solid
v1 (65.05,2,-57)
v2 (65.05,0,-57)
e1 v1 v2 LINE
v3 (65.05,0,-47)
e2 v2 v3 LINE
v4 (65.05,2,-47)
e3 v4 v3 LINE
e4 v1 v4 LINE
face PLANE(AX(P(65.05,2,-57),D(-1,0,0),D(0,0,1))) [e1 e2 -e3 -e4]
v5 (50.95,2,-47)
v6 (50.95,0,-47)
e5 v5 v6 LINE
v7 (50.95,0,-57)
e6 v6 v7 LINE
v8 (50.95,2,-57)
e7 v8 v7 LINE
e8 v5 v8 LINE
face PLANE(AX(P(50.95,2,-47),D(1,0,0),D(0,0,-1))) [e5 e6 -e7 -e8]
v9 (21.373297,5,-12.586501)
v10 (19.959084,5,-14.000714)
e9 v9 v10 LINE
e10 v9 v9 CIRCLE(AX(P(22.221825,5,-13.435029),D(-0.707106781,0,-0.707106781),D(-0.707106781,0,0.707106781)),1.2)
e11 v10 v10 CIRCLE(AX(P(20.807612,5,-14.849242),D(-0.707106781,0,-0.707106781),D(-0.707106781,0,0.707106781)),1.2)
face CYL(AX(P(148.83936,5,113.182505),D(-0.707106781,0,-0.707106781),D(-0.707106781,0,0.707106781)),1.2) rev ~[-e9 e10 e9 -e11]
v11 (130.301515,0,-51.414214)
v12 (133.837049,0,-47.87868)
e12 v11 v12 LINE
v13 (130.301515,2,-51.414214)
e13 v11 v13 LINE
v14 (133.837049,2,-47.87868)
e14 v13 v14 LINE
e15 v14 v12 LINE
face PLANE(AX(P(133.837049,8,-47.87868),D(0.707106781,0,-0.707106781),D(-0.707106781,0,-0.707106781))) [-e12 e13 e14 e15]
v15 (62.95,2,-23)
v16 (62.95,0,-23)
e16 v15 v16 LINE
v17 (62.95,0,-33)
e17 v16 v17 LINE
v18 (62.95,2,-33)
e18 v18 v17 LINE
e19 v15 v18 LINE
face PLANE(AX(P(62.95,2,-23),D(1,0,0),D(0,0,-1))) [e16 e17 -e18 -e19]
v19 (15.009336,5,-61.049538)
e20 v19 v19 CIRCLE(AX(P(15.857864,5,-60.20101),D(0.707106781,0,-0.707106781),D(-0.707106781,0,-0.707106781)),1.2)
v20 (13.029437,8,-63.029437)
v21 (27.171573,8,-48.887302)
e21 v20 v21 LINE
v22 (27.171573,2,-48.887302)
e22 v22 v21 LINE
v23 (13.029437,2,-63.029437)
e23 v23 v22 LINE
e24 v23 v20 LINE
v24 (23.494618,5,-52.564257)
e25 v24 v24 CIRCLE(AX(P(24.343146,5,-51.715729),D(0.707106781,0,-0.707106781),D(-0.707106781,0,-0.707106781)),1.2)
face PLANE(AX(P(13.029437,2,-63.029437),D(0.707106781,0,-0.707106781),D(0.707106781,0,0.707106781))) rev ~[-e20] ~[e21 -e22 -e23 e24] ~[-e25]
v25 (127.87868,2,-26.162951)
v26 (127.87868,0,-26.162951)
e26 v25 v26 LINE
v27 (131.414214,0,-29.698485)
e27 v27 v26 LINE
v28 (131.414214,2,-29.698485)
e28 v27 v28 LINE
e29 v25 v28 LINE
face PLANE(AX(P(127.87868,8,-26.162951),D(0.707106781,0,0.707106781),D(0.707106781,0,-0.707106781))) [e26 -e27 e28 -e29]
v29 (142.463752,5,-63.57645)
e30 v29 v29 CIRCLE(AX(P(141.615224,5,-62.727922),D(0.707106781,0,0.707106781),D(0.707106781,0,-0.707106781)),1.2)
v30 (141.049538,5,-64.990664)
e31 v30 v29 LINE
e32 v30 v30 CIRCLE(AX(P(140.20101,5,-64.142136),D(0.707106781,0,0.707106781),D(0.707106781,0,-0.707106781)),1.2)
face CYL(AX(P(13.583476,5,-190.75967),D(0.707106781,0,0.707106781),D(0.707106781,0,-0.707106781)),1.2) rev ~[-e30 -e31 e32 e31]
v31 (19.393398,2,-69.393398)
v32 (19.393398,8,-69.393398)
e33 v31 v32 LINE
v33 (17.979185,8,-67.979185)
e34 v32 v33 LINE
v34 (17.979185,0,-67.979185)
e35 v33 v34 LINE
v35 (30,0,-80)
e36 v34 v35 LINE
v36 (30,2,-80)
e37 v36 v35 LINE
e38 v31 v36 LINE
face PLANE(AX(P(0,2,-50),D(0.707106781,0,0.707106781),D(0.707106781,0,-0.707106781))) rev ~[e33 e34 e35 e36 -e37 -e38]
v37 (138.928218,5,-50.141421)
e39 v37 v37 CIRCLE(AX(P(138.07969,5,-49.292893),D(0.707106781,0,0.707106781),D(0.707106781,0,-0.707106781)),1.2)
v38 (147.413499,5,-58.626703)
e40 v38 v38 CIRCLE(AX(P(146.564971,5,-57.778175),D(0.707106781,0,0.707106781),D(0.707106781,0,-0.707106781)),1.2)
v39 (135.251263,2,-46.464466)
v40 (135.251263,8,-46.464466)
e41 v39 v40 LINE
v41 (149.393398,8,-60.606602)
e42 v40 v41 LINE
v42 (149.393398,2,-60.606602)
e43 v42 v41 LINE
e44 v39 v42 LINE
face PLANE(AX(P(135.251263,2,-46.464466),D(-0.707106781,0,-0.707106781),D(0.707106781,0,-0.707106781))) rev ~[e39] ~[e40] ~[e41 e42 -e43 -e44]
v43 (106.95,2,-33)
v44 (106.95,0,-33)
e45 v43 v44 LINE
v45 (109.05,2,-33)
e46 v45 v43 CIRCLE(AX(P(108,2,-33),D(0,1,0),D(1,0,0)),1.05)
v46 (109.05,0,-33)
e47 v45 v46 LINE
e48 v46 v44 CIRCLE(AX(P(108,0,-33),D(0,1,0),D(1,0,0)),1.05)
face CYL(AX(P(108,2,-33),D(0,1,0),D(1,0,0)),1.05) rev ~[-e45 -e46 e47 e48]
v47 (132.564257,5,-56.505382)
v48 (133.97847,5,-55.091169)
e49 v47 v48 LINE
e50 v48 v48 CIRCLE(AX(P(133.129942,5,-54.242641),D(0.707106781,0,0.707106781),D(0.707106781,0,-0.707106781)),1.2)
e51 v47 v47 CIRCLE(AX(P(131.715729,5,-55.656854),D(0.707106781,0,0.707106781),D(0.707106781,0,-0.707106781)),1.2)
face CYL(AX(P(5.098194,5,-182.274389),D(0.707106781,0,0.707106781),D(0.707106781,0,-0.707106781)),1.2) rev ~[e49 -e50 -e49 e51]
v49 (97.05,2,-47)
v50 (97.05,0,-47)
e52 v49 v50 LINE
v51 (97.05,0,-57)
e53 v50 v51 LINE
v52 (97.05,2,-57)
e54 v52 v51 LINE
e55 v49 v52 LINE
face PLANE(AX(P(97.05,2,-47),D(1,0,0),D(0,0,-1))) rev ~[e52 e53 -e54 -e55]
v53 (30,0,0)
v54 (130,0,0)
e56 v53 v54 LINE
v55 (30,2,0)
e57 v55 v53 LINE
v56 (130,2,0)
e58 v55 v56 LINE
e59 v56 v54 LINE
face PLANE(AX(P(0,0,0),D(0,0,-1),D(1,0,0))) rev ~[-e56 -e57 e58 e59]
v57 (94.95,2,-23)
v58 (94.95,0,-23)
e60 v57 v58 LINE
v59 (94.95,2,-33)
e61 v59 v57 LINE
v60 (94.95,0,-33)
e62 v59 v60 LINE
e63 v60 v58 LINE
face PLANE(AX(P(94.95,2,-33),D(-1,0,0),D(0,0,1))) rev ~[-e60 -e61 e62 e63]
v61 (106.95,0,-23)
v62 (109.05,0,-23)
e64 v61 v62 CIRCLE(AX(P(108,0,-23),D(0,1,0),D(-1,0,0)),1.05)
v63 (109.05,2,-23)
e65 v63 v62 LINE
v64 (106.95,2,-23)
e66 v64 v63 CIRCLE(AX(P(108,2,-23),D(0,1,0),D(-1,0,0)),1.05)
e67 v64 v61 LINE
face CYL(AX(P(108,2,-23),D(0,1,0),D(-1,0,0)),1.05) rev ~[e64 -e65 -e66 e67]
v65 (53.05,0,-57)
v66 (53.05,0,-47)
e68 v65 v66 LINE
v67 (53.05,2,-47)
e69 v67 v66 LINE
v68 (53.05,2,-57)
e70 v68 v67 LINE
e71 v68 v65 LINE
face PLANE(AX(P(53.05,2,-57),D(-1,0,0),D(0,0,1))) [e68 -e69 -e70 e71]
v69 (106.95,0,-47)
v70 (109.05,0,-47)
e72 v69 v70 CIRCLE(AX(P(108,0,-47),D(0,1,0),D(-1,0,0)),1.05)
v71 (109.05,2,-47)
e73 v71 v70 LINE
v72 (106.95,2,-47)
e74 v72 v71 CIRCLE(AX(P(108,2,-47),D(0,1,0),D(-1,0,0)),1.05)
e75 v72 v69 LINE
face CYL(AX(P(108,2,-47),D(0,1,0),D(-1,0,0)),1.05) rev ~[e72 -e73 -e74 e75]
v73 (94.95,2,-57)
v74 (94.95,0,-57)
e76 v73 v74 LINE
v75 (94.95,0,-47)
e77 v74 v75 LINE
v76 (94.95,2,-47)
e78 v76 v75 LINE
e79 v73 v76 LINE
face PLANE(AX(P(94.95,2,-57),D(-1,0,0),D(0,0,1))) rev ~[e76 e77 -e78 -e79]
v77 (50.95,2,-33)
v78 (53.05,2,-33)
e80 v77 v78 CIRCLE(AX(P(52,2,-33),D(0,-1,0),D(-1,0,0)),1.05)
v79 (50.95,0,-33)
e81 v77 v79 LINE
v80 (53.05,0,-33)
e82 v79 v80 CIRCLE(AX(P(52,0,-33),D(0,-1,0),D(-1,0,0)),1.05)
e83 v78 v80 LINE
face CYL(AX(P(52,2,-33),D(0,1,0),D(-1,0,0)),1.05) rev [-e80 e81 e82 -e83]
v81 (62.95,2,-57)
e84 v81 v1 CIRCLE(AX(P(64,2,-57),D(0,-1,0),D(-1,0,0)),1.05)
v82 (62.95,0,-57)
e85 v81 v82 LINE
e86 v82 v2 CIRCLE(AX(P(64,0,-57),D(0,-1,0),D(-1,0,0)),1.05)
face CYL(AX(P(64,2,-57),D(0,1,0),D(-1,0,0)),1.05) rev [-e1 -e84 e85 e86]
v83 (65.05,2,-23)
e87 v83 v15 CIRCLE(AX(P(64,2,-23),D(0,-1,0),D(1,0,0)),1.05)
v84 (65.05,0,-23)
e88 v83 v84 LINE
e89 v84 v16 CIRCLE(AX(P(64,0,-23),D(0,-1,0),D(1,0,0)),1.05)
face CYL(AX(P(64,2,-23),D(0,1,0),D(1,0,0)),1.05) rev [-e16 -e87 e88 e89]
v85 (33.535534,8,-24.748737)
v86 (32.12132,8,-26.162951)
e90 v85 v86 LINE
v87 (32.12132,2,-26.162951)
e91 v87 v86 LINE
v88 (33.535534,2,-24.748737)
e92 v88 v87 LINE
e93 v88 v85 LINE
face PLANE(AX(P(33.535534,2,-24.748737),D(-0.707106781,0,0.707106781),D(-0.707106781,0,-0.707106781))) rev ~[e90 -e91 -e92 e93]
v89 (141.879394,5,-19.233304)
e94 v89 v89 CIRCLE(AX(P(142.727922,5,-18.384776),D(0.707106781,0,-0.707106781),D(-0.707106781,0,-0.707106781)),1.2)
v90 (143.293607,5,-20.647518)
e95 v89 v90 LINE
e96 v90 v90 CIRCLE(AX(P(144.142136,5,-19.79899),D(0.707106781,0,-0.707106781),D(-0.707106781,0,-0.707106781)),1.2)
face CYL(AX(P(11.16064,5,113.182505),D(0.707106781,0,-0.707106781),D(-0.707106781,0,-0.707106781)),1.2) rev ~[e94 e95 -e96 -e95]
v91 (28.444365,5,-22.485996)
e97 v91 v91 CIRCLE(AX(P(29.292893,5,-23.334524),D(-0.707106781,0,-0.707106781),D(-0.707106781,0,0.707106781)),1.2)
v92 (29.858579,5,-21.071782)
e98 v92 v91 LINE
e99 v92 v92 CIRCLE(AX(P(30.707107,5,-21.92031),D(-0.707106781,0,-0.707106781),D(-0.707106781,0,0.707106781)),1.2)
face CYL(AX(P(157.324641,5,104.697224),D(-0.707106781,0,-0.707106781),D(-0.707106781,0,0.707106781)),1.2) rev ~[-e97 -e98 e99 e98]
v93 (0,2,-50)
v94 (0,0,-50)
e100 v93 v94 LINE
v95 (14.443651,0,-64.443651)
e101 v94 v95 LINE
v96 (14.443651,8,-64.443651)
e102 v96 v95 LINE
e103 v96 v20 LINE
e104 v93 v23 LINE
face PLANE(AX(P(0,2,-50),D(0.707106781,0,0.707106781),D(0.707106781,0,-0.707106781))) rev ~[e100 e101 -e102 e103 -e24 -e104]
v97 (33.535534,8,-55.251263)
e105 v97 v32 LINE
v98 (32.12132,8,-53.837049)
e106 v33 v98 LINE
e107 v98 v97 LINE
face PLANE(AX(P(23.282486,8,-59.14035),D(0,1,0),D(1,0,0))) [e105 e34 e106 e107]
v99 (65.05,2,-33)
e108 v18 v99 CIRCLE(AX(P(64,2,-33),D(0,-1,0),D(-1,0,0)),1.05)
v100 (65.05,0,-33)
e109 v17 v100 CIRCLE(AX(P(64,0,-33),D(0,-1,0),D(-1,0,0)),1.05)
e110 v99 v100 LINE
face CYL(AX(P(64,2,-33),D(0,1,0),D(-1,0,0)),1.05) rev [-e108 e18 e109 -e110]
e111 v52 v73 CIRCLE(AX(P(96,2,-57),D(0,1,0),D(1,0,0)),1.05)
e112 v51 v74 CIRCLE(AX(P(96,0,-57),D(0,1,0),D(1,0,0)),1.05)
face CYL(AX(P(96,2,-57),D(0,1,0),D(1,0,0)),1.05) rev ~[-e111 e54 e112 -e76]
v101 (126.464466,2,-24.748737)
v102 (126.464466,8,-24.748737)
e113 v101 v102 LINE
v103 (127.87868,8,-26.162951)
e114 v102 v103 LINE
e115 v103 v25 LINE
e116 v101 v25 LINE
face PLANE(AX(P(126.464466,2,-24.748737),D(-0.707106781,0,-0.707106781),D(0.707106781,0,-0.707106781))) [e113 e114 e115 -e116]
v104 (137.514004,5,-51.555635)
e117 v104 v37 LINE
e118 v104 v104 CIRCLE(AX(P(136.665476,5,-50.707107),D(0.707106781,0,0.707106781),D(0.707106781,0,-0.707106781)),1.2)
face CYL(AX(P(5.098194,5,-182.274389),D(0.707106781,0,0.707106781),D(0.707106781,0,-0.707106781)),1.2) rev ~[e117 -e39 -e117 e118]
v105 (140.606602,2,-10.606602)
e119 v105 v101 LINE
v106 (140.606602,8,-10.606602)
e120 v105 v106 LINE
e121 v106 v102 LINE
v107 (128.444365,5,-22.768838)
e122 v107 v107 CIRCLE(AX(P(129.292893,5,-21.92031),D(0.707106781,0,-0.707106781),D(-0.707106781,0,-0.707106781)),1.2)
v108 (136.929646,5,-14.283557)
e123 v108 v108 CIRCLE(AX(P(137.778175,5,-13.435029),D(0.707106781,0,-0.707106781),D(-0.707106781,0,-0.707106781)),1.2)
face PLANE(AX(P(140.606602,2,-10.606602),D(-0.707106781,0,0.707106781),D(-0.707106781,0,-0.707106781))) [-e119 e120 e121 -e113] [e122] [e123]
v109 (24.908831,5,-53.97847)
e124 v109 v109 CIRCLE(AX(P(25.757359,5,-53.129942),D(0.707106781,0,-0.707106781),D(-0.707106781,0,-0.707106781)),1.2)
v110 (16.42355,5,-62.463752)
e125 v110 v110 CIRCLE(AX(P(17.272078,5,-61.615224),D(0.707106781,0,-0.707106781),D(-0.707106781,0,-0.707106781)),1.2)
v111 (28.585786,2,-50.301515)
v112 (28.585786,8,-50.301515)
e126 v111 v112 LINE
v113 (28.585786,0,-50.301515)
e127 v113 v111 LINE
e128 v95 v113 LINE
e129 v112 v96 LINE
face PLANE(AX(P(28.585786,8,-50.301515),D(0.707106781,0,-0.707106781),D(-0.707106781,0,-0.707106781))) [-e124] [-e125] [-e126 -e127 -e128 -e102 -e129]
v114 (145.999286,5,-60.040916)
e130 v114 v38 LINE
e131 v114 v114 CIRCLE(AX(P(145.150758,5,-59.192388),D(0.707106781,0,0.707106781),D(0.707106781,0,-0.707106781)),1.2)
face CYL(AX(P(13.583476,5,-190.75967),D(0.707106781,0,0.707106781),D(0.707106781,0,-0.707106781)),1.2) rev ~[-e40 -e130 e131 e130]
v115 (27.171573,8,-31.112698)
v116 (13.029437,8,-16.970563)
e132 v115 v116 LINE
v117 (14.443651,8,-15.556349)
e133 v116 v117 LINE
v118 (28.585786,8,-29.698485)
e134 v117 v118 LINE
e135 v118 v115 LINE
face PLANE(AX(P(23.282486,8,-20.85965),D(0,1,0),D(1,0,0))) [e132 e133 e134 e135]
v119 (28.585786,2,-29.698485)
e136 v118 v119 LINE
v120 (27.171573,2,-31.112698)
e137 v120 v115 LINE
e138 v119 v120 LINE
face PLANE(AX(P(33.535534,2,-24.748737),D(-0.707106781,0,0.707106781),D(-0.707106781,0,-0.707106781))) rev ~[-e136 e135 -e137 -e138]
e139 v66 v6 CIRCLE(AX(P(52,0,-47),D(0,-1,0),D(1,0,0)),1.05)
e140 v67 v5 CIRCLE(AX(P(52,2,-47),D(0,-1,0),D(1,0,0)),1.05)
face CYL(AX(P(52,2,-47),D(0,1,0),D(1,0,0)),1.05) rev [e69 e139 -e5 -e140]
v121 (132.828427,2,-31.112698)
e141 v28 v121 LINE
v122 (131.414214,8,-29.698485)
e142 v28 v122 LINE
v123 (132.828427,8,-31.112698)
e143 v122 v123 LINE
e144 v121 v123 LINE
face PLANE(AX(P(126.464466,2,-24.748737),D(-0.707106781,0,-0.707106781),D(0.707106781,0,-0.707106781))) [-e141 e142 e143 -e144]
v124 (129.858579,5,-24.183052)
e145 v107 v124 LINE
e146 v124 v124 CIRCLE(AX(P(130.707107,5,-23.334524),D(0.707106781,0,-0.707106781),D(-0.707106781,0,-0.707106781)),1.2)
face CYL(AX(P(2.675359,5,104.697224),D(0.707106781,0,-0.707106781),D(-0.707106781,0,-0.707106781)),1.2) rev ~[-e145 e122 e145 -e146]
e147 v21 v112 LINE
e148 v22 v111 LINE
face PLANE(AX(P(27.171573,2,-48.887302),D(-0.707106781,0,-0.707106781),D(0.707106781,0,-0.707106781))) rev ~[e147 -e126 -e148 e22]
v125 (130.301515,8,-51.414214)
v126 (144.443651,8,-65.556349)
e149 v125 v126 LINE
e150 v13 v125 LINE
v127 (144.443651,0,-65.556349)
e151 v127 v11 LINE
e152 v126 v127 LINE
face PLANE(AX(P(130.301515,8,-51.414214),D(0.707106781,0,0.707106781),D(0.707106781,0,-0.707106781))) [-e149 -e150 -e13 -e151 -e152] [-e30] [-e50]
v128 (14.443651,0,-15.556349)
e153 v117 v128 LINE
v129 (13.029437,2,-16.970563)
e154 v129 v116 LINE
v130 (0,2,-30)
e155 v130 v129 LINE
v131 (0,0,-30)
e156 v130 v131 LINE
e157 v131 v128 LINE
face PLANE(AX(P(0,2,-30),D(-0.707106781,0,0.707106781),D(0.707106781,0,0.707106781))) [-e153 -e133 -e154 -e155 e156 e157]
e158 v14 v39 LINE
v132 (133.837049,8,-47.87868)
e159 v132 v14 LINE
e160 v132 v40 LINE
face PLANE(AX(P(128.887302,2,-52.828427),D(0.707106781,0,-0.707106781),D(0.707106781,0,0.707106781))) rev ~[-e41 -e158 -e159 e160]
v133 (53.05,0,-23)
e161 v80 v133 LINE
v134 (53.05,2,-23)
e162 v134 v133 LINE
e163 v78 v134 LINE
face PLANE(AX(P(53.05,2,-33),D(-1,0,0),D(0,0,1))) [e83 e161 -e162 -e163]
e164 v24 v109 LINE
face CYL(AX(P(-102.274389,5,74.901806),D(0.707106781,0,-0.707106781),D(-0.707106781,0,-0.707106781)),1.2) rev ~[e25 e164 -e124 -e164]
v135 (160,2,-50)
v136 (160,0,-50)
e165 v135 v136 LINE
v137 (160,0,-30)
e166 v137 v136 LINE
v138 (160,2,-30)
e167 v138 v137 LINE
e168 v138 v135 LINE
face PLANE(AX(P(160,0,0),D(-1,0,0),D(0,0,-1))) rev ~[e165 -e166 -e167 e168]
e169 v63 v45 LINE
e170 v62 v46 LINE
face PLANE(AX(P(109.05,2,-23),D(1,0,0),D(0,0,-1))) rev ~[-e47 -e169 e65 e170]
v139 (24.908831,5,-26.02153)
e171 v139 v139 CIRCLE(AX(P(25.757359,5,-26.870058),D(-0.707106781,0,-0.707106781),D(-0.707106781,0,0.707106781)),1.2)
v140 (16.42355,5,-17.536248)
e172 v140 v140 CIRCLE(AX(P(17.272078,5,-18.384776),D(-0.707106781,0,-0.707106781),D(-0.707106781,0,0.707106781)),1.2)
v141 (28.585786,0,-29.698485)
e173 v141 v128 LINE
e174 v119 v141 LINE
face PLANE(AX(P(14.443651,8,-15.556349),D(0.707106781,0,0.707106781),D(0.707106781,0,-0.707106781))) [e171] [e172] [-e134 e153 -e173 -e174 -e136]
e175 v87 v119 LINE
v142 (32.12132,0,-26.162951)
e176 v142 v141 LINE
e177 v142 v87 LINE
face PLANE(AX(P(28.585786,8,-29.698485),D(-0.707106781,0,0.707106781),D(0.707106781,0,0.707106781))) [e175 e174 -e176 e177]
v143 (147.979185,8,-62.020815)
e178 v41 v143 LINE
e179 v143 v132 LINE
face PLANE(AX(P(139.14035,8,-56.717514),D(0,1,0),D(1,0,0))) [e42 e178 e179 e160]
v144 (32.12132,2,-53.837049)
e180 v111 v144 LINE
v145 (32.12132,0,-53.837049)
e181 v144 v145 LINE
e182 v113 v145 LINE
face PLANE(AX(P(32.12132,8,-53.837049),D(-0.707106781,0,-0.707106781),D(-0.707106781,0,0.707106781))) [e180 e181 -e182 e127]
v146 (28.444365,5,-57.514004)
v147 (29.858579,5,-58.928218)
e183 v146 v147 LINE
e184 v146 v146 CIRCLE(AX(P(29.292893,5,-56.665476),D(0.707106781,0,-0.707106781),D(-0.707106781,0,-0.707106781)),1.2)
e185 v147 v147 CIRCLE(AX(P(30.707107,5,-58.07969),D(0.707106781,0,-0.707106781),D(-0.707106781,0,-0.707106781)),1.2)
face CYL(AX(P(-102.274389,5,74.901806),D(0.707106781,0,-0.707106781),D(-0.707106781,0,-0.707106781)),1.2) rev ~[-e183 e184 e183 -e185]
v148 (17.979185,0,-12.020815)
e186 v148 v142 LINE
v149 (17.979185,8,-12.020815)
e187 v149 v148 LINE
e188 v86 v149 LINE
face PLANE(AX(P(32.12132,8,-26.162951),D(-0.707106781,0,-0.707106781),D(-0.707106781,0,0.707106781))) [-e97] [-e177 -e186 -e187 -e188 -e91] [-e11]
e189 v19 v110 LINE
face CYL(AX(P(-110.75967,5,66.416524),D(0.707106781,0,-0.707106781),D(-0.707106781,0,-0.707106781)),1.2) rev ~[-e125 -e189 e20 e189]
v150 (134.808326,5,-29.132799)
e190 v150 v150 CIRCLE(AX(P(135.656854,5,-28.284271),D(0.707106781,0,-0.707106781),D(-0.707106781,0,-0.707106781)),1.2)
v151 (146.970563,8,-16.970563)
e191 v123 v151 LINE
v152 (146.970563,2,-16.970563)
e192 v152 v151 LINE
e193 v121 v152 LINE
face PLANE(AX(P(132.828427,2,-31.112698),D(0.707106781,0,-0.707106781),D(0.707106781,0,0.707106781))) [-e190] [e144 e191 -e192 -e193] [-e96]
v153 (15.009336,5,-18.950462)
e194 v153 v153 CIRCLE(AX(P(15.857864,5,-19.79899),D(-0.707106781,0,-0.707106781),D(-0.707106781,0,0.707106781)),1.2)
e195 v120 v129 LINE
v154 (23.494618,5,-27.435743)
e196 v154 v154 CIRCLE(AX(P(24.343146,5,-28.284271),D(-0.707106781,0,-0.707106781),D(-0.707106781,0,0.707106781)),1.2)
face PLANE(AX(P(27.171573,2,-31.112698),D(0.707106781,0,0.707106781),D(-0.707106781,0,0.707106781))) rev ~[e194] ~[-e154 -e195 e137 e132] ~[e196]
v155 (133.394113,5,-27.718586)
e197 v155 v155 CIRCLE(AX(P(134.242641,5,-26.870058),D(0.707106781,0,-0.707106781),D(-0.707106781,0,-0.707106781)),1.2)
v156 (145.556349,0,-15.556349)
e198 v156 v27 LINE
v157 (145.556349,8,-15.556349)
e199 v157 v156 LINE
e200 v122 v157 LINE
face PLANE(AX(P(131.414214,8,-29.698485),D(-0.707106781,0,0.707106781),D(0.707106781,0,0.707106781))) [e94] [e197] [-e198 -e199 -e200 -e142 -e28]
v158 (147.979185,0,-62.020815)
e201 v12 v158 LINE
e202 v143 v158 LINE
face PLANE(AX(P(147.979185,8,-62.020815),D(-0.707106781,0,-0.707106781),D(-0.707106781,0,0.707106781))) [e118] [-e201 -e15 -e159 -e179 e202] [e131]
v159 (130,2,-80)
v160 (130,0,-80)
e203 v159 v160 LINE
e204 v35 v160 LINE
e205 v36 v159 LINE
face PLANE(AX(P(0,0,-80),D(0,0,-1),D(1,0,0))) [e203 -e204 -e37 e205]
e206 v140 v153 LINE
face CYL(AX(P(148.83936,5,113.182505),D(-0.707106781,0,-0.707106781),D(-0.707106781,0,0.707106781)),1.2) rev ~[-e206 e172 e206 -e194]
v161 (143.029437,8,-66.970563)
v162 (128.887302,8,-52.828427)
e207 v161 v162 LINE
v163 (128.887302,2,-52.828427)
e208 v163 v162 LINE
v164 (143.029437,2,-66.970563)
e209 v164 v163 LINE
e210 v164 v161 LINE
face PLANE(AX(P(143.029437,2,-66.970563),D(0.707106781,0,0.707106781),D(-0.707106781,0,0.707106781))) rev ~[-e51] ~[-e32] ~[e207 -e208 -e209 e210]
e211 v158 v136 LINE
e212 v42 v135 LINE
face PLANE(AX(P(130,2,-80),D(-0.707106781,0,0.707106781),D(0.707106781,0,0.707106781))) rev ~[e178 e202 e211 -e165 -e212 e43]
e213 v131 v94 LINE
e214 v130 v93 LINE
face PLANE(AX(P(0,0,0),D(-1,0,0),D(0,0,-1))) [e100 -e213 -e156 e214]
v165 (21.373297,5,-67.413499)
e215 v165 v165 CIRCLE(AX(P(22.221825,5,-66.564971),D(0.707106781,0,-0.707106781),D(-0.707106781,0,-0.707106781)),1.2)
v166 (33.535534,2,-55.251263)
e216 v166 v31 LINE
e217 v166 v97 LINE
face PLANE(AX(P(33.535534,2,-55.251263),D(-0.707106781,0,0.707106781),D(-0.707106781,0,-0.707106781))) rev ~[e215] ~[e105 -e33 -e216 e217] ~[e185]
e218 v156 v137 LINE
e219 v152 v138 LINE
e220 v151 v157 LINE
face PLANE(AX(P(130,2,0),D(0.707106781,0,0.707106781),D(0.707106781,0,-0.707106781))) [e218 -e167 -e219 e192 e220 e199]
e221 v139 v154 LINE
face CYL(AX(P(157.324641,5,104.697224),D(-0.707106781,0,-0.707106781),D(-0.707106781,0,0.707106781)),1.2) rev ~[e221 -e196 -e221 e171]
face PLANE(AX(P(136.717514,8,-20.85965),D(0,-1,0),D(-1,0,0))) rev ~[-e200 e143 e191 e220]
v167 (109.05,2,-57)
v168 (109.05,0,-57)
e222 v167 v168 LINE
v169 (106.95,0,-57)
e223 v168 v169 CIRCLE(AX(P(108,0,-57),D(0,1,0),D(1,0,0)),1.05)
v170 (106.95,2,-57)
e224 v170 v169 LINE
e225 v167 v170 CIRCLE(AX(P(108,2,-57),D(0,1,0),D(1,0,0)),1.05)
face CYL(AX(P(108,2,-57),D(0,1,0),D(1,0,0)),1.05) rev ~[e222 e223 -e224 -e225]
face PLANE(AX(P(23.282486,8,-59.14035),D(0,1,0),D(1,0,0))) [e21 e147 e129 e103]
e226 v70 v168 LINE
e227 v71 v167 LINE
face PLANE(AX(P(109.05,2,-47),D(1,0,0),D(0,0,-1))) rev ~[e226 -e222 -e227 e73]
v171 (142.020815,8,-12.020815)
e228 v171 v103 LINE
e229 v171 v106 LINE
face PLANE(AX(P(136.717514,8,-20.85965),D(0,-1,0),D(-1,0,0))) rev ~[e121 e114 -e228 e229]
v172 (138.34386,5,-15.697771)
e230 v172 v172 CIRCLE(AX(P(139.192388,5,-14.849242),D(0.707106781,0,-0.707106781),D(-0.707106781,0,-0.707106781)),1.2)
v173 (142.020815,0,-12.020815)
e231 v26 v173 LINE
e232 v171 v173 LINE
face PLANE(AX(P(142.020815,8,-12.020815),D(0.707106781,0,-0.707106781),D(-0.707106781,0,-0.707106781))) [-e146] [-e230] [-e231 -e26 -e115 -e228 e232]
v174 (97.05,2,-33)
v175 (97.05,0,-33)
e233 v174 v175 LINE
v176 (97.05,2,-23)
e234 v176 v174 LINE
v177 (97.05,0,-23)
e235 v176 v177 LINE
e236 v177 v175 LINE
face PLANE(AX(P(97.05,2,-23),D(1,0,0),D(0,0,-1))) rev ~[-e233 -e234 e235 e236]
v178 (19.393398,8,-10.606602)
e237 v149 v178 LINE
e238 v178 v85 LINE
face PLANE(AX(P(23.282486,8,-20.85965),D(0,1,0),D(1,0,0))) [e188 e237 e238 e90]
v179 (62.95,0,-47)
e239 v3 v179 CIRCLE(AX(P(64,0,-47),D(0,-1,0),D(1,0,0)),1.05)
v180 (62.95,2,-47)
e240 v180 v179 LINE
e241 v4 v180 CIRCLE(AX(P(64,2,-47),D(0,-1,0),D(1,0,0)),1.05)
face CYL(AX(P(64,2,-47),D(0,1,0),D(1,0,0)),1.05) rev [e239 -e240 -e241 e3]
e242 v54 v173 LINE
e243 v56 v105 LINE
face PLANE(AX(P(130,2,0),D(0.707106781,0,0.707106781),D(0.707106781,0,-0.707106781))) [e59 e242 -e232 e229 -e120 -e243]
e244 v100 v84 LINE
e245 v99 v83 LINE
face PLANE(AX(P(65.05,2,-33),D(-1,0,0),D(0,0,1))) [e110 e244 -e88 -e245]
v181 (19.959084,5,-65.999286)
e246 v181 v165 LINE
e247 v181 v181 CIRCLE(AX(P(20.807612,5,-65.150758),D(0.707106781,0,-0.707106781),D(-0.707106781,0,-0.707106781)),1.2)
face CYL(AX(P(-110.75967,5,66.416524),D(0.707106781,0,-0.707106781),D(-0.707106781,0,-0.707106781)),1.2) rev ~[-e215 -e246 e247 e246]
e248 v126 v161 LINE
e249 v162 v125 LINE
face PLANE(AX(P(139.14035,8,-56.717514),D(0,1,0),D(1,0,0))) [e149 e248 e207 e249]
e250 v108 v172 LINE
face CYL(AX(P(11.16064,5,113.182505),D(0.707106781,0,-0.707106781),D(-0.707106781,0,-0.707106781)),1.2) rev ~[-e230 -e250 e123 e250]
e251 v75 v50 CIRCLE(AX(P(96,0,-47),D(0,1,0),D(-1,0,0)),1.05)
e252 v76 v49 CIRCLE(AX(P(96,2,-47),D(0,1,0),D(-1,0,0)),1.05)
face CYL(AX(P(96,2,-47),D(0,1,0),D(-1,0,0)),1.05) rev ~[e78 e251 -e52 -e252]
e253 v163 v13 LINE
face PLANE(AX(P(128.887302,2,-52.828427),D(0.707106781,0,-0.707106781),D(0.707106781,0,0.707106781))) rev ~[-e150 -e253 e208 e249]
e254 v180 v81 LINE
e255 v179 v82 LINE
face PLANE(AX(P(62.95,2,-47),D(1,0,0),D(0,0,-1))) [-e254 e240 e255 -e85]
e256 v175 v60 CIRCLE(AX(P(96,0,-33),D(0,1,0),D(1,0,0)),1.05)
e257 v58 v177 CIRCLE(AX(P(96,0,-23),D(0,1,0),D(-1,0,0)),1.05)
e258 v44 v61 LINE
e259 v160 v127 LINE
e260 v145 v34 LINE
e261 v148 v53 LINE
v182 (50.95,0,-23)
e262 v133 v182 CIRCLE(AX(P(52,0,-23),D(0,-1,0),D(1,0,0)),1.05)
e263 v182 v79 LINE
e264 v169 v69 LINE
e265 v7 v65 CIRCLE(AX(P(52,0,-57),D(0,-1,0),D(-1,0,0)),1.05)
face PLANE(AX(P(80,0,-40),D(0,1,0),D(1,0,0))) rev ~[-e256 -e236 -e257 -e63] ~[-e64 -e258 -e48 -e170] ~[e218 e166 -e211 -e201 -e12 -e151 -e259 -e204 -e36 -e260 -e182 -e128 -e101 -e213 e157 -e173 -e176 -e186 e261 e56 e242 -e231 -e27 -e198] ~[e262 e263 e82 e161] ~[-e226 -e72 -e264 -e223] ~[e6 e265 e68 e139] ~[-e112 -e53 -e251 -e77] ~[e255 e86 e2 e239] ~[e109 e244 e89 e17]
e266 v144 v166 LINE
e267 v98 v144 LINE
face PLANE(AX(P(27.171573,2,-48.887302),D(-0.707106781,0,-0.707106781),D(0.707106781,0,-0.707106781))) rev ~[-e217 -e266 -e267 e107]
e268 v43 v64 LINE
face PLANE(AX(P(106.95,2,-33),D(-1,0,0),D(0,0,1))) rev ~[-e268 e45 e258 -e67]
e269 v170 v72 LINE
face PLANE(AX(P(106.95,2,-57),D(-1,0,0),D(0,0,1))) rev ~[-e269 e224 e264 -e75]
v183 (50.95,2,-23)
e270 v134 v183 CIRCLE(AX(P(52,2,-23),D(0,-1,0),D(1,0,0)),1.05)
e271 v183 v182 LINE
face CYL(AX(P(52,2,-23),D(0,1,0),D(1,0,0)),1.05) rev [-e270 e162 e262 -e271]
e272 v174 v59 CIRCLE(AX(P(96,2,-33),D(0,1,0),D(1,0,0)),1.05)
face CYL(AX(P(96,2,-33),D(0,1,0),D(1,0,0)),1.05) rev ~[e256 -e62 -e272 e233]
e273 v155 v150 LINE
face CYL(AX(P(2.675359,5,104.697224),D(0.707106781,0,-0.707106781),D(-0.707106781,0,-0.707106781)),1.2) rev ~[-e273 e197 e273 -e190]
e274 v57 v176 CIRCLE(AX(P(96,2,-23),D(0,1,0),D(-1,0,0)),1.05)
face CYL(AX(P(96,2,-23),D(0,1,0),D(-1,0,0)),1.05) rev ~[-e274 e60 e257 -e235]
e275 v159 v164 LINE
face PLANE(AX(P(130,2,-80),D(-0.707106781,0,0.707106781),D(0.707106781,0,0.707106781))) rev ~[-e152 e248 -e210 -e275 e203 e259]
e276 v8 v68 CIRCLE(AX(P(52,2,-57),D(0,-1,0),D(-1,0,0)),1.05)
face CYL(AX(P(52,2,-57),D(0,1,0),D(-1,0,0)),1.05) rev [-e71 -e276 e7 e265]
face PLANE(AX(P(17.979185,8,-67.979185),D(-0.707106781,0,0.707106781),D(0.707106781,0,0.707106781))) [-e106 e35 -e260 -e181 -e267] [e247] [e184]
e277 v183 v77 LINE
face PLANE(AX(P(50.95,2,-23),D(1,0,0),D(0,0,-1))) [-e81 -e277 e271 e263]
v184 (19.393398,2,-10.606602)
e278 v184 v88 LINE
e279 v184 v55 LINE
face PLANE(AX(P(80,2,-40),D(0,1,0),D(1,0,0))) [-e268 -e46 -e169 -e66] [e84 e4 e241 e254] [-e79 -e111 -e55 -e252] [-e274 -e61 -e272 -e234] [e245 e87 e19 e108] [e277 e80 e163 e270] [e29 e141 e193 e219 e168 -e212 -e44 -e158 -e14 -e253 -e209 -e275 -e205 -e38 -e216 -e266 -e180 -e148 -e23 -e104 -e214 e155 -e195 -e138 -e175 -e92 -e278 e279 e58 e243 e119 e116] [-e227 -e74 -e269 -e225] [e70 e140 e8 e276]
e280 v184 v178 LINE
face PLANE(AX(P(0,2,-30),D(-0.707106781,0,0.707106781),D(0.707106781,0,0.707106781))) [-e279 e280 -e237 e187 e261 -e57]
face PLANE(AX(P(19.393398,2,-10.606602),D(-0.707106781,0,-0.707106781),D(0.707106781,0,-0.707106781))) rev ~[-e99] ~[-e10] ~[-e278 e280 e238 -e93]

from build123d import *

# Parameters (mm, degrees)
ESQUISSE1_W             = 160
ESQUISSE1_H             = 80
BOSS_EXTRU_1_DEPTH      = 2
ENL_V_MAT_EXTRU_2_DEPTH = 2
ENL_V_MAT_EXTRU_3_DEPTH = 2
BOSS_EXTRU_2_DEPTH      = 6
ENL_V_MAT_EXTRU_4_REACH = 10
D_GAGEMENT_M21_D        = 2.4
D_GAGEMENT_M22_D        = 2.4
D_GAGEMENT_M23_D        = 2.4
D_GAGEMENT_M24_D        = 2.4


with BuildPart() as part:
    # Esquisse1 → Boss.-Extru.1 (new body)
    with BuildSketch(Plane(origin=(0, 0, 0), x_dir=(1, 0, 0), z_dir=(0, 1, 0))):
        with Locations((80, 40)):
            Rectangle(ESQUISSE1_W, ESQUISSE1_H)
    extrude(amount=BOSS_EXTRU_1_DEPTH)

    # Esquisse2 → Enlèv. mat.-Extru.2 (cut)
    with BuildSketch(Plane(origin=(0, 2, 0), x_dir=(1, 0, 0), z_dir=(0, 1, 0))):
        Polygon((0, 50), (30, 80), (0, 80), align=None)
        Polygon((130, 80), (160, 50), (160, 80), align=None)
        Polygon((130, 0), (160, 30), (160, 0), align=None)
        Polygon((0, 30), (30, 0), (0, 0), align=None)
    extrude(amount=-ENL_V_MAT_EXTRU_2_DEPTH, mode=Mode.SUBTRACT)

    # Esquisse7 → Enlèv. mat.-Extru.3 (cut)
    with BuildSketch(Plane(origin=(0, 2, 0), x_dir=(1, 0, 0), z_dir=(0, 1, 0))):
        with BuildLine():
            Line((62.95, 23), (62.95, 33))
            ThreePointArc((62.95, 33), (64, 34.05), (65.05, 33))
            Line((65.05, 33), (65.05, 23))
            ThreePointArc((65.05, 23), (64, 21.95), (62.95, 23))
        make_face()
        with BuildLine():
            Line((50.95, 23), (50.95, 33))
            ThreePointArc((50.95, 33), (52, 34.05), (53.05, 33))
            Line((53.05, 33), (53.05, 23))
            ThreePointArc((53.05, 23), (52, 21.95), (50.95, 23))
        make_face()
        with BuildLine():
            Line((50.95, 47), (50.95, 57))
            ThreePointArc((50.95, 57), (52, 58.05), (53.05, 57))
            Line((53.05, 57), (53.05, 47))
            ThreePointArc((53.05, 47), (52, 45.95), (50.95, 47))
        make_face()
        with BuildLine():
            Line((62.95, 47), (62.95, 57))
            ThreePointArc((62.95, 57), (64, 58.05), (65.05, 57))
            Line((65.05, 57), (65.05, 47))
            ThreePointArc((65.05, 47), (64, 45.95), (62.95, 47))
        make_face()
        with BuildLine():
            Line((97.05, 47), (97.05, 57))
            ThreePointArc((97.05, 57), (96, 58.05), (94.95, 57))
            Line((94.95, 57), (94.95, 47))
            ThreePointArc((94.95, 47), (96, 45.95), (97.05, 47))
        make_face()
        with BuildLine():
            Line((109.05, 47), (109.05, 57))
            ThreePointArc((109.05, 57), (108, 58.05), (106.95, 57))
            Line((106.95, 57), (106.95, 47))
            ThreePointArc((106.95, 47), (108, 45.95), (109.05, 47))
        make_face()
        with BuildLine():
            Line((109.05, 23), (109.05, 33))
            ThreePointArc((109.05, 33), (108, 34.05), (106.95, 33))
            Line((106.95, 33), (106.95, 23))
            ThreePointArc((106.95, 23), (108, 21.95), (109.05, 23))
        make_face()
        with BuildLine():
            Line((97.05, 23), (97.05, 33))
            ThreePointArc((97.05, 33), (96, 34.05), (94.95, 33))
            Line((94.95, 33), (94.95, 23))
            ThreePointArc((94.95, 23), (96, 21.95), (97.05, 23))
        make_face()
    extrude(amount=-ENL_V_MAT_EXTRU_3_DEPTH, mode=Mode.SUBTRACT)

    # Esquisse8 → Boss.-Extru.2 (add)
    with BuildSketch(Plane(origin=(0, 2, 0), x_dir=(1, 0, 0), z_dir=(0, 1, 0))):
        Polygon((13.029437252, 16.970562748), (19.393398282, 10.606601718), (33.535533906, 24.748737342), (27.171572875, 31.112698372), align=None)
        Polygon((19.393398282, 69.393398282), (13.029437252, 63.029437252), (27.171572875, 48.887301628), (33.535533906, 55.251262658), align=None)
        Polygon((149.393398282, 60.606601718), (143.029437252, 66.970562748), (128.887301628, 52.828427125), (135.251262658, 46.464466094), align=None)
        Polygon((146.970562748, 16.970562748), (140.606601718, 10.606601718), (126.464466094, 24.748737342), (132.828427125, 31.112698372), align=None)
    extrude(amount=BOSS_EXTRU_2_DEPTH)

    # Esquisse10 → Enlèv. mat.-Extru.4 (cut, up to next)
    with BuildSketch(Plane(origin=(0, 8, 0), x_dir=(1, 0, 0), z_dir=(0, 1, 0)), mode=Mode.PRIVATE) as enl_v_mat_extru_4_sk1:
        Polygon((17.97918472, 12.02081528), (14.443650814, 15.556349186), (28.585786438, 29.69848481), (32.121320344, 26.162950904), align=None)
    enl_v_mat_extru_4_tool1 = extrude(enl_v_mat_extru_4_sk1.sketch, amount=-ENL_V_MAT_EXTRU_4_REACH, mode=Mode.PRIVATE) & part.part
    add(enl_v_mat_extru_4_tool1.solids().sort_by_distance((23.282486, 8, -20.85965))[0], mode=Mode.SUBTRACT)
    # Esquisse10 → Enlèv. mat.-Extru.4 (cut, up to next)
    with BuildSketch(Plane(origin=(0, 8, 0), x_dir=(1, 0, 0), z_dir=(0, 1, 0)), mode=Mode.PRIVATE) as enl_v_mat_extru_4_sk2:
        Polygon((14.443650814, 64.443650814), (17.97918472, 67.97918472), (32.121320344, 53.837049096), (28.585786438, 50.30151519), align=None)
    enl_v_mat_extru_4_tool2 = extrude(enl_v_mat_extru_4_sk2.sketch, amount=-ENL_V_MAT_EXTRU_4_REACH, mode=Mode.PRIVATE) & part.part
    add(enl_v_mat_extru_4_tool2.solids().sort_by_distance((23.282486, 8, -59.14035))[0], mode=Mode.SUBTRACT)
    # Esquisse10 → Enlèv. mat.-Extru.4 (cut, up to next)
    with BuildSketch(Plane(origin=(0, 8, 0), x_dir=(1, 0, 0), z_dir=(0, 1, 0)), mode=Mode.PRIVATE) as enl_v_mat_extru_4_sk3:
        Polygon((144.443650814, 65.556349186), (147.97918472, 62.02081528), (133.837049096, 47.878679656), (130.30151519, 51.414213562), align=None)
    enl_v_mat_extru_4_tool3 = extrude(enl_v_mat_extru_4_sk3.sketch, amount=-ENL_V_MAT_EXTRU_4_REACH, mode=Mode.PRIVATE) & part.part
    add(enl_v_mat_extru_4_tool3.solids().sort_by_distance((139.14035, 8, -56.717514))[0], mode=Mode.SUBTRACT)
    # Esquisse10 → Enlèv. mat.-Extru.4 (cut, up to next)
    with BuildSketch(Plane(origin=(0, 8, 0), x_dir=(1, 0, 0), z_dir=(0, 1, 0)), mode=Mode.PRIVATE) as enl_v_mat_extru_4_sk4:
        Polygon((145.556349186, 15.556349186), (142.02081528, 12.02081528), (127.878679656, 26.162950904), (131.414213562, 29.69848481), align=None)
    enl_v_mat_extru_4_tool4 = extrude(enl_v_mat_extru_4_sk4.sketch, amount=-ENL_V_MAT_EXTRU_4_REACH, mode=Mode.PRIVATE) & part.part
    add(enl_v_mat_extru_4_tool4.solids().sort_by_distance((136.717514, 8, -20.85965))[0], mode=Mode.SUBTRACT)

    # Dégagement M21 (through all)
    with Locations(Plane(origin=(4.393398282, 0, 4.393398282), x_dir=(0.707106781, 0, -0.707106781), z_dir=(0.707106781, 0, 0.707106781))):
        with Locations((25.213203436, 5), (37.213203436, 5)):
            Hole(D_GAGEMENT_M21_D / 2)

    # Dégagement M22 (through all)
    with Locations(Plane(origin=(38.029437252, 0, -38.029437252), x_dir=(0.707106781, 0, 0.707106781), z_dir=(-0.707106781, 0, 0.707106781))):
        with Locations((-31.355339059, 5), (-19.355339059, 5)):
            Hole(D_GAGEMENT_M22_D / 2)

    # Dégagement M23 (through all)
    with Locations(Plane(origin=(75.606601718, 0, -75.606601718), x_dir=(0.707106781, 0, 0.707106781), z_dir=(-0.707106781, 0, 0.707106781))):
        with Locations((75.923881554, 5), (87.923881554, 5)):
            Hole(D_GAGEMENT_M23_D / 2)

    # Dégagement M24 (through all)
    with Locations(Plane(origin=(38.029437252, 0, 38.029437252), x_dir=(-0.707106781, 0, 0.707106781), z_dir=(-0.707106781, 0, -0.707106781))):
        with Locations((-144.492424049, 5), (-132.492424049, 5)):
            Hole(D_GAGEMENT_M24_D / 2)


solid = part.part
